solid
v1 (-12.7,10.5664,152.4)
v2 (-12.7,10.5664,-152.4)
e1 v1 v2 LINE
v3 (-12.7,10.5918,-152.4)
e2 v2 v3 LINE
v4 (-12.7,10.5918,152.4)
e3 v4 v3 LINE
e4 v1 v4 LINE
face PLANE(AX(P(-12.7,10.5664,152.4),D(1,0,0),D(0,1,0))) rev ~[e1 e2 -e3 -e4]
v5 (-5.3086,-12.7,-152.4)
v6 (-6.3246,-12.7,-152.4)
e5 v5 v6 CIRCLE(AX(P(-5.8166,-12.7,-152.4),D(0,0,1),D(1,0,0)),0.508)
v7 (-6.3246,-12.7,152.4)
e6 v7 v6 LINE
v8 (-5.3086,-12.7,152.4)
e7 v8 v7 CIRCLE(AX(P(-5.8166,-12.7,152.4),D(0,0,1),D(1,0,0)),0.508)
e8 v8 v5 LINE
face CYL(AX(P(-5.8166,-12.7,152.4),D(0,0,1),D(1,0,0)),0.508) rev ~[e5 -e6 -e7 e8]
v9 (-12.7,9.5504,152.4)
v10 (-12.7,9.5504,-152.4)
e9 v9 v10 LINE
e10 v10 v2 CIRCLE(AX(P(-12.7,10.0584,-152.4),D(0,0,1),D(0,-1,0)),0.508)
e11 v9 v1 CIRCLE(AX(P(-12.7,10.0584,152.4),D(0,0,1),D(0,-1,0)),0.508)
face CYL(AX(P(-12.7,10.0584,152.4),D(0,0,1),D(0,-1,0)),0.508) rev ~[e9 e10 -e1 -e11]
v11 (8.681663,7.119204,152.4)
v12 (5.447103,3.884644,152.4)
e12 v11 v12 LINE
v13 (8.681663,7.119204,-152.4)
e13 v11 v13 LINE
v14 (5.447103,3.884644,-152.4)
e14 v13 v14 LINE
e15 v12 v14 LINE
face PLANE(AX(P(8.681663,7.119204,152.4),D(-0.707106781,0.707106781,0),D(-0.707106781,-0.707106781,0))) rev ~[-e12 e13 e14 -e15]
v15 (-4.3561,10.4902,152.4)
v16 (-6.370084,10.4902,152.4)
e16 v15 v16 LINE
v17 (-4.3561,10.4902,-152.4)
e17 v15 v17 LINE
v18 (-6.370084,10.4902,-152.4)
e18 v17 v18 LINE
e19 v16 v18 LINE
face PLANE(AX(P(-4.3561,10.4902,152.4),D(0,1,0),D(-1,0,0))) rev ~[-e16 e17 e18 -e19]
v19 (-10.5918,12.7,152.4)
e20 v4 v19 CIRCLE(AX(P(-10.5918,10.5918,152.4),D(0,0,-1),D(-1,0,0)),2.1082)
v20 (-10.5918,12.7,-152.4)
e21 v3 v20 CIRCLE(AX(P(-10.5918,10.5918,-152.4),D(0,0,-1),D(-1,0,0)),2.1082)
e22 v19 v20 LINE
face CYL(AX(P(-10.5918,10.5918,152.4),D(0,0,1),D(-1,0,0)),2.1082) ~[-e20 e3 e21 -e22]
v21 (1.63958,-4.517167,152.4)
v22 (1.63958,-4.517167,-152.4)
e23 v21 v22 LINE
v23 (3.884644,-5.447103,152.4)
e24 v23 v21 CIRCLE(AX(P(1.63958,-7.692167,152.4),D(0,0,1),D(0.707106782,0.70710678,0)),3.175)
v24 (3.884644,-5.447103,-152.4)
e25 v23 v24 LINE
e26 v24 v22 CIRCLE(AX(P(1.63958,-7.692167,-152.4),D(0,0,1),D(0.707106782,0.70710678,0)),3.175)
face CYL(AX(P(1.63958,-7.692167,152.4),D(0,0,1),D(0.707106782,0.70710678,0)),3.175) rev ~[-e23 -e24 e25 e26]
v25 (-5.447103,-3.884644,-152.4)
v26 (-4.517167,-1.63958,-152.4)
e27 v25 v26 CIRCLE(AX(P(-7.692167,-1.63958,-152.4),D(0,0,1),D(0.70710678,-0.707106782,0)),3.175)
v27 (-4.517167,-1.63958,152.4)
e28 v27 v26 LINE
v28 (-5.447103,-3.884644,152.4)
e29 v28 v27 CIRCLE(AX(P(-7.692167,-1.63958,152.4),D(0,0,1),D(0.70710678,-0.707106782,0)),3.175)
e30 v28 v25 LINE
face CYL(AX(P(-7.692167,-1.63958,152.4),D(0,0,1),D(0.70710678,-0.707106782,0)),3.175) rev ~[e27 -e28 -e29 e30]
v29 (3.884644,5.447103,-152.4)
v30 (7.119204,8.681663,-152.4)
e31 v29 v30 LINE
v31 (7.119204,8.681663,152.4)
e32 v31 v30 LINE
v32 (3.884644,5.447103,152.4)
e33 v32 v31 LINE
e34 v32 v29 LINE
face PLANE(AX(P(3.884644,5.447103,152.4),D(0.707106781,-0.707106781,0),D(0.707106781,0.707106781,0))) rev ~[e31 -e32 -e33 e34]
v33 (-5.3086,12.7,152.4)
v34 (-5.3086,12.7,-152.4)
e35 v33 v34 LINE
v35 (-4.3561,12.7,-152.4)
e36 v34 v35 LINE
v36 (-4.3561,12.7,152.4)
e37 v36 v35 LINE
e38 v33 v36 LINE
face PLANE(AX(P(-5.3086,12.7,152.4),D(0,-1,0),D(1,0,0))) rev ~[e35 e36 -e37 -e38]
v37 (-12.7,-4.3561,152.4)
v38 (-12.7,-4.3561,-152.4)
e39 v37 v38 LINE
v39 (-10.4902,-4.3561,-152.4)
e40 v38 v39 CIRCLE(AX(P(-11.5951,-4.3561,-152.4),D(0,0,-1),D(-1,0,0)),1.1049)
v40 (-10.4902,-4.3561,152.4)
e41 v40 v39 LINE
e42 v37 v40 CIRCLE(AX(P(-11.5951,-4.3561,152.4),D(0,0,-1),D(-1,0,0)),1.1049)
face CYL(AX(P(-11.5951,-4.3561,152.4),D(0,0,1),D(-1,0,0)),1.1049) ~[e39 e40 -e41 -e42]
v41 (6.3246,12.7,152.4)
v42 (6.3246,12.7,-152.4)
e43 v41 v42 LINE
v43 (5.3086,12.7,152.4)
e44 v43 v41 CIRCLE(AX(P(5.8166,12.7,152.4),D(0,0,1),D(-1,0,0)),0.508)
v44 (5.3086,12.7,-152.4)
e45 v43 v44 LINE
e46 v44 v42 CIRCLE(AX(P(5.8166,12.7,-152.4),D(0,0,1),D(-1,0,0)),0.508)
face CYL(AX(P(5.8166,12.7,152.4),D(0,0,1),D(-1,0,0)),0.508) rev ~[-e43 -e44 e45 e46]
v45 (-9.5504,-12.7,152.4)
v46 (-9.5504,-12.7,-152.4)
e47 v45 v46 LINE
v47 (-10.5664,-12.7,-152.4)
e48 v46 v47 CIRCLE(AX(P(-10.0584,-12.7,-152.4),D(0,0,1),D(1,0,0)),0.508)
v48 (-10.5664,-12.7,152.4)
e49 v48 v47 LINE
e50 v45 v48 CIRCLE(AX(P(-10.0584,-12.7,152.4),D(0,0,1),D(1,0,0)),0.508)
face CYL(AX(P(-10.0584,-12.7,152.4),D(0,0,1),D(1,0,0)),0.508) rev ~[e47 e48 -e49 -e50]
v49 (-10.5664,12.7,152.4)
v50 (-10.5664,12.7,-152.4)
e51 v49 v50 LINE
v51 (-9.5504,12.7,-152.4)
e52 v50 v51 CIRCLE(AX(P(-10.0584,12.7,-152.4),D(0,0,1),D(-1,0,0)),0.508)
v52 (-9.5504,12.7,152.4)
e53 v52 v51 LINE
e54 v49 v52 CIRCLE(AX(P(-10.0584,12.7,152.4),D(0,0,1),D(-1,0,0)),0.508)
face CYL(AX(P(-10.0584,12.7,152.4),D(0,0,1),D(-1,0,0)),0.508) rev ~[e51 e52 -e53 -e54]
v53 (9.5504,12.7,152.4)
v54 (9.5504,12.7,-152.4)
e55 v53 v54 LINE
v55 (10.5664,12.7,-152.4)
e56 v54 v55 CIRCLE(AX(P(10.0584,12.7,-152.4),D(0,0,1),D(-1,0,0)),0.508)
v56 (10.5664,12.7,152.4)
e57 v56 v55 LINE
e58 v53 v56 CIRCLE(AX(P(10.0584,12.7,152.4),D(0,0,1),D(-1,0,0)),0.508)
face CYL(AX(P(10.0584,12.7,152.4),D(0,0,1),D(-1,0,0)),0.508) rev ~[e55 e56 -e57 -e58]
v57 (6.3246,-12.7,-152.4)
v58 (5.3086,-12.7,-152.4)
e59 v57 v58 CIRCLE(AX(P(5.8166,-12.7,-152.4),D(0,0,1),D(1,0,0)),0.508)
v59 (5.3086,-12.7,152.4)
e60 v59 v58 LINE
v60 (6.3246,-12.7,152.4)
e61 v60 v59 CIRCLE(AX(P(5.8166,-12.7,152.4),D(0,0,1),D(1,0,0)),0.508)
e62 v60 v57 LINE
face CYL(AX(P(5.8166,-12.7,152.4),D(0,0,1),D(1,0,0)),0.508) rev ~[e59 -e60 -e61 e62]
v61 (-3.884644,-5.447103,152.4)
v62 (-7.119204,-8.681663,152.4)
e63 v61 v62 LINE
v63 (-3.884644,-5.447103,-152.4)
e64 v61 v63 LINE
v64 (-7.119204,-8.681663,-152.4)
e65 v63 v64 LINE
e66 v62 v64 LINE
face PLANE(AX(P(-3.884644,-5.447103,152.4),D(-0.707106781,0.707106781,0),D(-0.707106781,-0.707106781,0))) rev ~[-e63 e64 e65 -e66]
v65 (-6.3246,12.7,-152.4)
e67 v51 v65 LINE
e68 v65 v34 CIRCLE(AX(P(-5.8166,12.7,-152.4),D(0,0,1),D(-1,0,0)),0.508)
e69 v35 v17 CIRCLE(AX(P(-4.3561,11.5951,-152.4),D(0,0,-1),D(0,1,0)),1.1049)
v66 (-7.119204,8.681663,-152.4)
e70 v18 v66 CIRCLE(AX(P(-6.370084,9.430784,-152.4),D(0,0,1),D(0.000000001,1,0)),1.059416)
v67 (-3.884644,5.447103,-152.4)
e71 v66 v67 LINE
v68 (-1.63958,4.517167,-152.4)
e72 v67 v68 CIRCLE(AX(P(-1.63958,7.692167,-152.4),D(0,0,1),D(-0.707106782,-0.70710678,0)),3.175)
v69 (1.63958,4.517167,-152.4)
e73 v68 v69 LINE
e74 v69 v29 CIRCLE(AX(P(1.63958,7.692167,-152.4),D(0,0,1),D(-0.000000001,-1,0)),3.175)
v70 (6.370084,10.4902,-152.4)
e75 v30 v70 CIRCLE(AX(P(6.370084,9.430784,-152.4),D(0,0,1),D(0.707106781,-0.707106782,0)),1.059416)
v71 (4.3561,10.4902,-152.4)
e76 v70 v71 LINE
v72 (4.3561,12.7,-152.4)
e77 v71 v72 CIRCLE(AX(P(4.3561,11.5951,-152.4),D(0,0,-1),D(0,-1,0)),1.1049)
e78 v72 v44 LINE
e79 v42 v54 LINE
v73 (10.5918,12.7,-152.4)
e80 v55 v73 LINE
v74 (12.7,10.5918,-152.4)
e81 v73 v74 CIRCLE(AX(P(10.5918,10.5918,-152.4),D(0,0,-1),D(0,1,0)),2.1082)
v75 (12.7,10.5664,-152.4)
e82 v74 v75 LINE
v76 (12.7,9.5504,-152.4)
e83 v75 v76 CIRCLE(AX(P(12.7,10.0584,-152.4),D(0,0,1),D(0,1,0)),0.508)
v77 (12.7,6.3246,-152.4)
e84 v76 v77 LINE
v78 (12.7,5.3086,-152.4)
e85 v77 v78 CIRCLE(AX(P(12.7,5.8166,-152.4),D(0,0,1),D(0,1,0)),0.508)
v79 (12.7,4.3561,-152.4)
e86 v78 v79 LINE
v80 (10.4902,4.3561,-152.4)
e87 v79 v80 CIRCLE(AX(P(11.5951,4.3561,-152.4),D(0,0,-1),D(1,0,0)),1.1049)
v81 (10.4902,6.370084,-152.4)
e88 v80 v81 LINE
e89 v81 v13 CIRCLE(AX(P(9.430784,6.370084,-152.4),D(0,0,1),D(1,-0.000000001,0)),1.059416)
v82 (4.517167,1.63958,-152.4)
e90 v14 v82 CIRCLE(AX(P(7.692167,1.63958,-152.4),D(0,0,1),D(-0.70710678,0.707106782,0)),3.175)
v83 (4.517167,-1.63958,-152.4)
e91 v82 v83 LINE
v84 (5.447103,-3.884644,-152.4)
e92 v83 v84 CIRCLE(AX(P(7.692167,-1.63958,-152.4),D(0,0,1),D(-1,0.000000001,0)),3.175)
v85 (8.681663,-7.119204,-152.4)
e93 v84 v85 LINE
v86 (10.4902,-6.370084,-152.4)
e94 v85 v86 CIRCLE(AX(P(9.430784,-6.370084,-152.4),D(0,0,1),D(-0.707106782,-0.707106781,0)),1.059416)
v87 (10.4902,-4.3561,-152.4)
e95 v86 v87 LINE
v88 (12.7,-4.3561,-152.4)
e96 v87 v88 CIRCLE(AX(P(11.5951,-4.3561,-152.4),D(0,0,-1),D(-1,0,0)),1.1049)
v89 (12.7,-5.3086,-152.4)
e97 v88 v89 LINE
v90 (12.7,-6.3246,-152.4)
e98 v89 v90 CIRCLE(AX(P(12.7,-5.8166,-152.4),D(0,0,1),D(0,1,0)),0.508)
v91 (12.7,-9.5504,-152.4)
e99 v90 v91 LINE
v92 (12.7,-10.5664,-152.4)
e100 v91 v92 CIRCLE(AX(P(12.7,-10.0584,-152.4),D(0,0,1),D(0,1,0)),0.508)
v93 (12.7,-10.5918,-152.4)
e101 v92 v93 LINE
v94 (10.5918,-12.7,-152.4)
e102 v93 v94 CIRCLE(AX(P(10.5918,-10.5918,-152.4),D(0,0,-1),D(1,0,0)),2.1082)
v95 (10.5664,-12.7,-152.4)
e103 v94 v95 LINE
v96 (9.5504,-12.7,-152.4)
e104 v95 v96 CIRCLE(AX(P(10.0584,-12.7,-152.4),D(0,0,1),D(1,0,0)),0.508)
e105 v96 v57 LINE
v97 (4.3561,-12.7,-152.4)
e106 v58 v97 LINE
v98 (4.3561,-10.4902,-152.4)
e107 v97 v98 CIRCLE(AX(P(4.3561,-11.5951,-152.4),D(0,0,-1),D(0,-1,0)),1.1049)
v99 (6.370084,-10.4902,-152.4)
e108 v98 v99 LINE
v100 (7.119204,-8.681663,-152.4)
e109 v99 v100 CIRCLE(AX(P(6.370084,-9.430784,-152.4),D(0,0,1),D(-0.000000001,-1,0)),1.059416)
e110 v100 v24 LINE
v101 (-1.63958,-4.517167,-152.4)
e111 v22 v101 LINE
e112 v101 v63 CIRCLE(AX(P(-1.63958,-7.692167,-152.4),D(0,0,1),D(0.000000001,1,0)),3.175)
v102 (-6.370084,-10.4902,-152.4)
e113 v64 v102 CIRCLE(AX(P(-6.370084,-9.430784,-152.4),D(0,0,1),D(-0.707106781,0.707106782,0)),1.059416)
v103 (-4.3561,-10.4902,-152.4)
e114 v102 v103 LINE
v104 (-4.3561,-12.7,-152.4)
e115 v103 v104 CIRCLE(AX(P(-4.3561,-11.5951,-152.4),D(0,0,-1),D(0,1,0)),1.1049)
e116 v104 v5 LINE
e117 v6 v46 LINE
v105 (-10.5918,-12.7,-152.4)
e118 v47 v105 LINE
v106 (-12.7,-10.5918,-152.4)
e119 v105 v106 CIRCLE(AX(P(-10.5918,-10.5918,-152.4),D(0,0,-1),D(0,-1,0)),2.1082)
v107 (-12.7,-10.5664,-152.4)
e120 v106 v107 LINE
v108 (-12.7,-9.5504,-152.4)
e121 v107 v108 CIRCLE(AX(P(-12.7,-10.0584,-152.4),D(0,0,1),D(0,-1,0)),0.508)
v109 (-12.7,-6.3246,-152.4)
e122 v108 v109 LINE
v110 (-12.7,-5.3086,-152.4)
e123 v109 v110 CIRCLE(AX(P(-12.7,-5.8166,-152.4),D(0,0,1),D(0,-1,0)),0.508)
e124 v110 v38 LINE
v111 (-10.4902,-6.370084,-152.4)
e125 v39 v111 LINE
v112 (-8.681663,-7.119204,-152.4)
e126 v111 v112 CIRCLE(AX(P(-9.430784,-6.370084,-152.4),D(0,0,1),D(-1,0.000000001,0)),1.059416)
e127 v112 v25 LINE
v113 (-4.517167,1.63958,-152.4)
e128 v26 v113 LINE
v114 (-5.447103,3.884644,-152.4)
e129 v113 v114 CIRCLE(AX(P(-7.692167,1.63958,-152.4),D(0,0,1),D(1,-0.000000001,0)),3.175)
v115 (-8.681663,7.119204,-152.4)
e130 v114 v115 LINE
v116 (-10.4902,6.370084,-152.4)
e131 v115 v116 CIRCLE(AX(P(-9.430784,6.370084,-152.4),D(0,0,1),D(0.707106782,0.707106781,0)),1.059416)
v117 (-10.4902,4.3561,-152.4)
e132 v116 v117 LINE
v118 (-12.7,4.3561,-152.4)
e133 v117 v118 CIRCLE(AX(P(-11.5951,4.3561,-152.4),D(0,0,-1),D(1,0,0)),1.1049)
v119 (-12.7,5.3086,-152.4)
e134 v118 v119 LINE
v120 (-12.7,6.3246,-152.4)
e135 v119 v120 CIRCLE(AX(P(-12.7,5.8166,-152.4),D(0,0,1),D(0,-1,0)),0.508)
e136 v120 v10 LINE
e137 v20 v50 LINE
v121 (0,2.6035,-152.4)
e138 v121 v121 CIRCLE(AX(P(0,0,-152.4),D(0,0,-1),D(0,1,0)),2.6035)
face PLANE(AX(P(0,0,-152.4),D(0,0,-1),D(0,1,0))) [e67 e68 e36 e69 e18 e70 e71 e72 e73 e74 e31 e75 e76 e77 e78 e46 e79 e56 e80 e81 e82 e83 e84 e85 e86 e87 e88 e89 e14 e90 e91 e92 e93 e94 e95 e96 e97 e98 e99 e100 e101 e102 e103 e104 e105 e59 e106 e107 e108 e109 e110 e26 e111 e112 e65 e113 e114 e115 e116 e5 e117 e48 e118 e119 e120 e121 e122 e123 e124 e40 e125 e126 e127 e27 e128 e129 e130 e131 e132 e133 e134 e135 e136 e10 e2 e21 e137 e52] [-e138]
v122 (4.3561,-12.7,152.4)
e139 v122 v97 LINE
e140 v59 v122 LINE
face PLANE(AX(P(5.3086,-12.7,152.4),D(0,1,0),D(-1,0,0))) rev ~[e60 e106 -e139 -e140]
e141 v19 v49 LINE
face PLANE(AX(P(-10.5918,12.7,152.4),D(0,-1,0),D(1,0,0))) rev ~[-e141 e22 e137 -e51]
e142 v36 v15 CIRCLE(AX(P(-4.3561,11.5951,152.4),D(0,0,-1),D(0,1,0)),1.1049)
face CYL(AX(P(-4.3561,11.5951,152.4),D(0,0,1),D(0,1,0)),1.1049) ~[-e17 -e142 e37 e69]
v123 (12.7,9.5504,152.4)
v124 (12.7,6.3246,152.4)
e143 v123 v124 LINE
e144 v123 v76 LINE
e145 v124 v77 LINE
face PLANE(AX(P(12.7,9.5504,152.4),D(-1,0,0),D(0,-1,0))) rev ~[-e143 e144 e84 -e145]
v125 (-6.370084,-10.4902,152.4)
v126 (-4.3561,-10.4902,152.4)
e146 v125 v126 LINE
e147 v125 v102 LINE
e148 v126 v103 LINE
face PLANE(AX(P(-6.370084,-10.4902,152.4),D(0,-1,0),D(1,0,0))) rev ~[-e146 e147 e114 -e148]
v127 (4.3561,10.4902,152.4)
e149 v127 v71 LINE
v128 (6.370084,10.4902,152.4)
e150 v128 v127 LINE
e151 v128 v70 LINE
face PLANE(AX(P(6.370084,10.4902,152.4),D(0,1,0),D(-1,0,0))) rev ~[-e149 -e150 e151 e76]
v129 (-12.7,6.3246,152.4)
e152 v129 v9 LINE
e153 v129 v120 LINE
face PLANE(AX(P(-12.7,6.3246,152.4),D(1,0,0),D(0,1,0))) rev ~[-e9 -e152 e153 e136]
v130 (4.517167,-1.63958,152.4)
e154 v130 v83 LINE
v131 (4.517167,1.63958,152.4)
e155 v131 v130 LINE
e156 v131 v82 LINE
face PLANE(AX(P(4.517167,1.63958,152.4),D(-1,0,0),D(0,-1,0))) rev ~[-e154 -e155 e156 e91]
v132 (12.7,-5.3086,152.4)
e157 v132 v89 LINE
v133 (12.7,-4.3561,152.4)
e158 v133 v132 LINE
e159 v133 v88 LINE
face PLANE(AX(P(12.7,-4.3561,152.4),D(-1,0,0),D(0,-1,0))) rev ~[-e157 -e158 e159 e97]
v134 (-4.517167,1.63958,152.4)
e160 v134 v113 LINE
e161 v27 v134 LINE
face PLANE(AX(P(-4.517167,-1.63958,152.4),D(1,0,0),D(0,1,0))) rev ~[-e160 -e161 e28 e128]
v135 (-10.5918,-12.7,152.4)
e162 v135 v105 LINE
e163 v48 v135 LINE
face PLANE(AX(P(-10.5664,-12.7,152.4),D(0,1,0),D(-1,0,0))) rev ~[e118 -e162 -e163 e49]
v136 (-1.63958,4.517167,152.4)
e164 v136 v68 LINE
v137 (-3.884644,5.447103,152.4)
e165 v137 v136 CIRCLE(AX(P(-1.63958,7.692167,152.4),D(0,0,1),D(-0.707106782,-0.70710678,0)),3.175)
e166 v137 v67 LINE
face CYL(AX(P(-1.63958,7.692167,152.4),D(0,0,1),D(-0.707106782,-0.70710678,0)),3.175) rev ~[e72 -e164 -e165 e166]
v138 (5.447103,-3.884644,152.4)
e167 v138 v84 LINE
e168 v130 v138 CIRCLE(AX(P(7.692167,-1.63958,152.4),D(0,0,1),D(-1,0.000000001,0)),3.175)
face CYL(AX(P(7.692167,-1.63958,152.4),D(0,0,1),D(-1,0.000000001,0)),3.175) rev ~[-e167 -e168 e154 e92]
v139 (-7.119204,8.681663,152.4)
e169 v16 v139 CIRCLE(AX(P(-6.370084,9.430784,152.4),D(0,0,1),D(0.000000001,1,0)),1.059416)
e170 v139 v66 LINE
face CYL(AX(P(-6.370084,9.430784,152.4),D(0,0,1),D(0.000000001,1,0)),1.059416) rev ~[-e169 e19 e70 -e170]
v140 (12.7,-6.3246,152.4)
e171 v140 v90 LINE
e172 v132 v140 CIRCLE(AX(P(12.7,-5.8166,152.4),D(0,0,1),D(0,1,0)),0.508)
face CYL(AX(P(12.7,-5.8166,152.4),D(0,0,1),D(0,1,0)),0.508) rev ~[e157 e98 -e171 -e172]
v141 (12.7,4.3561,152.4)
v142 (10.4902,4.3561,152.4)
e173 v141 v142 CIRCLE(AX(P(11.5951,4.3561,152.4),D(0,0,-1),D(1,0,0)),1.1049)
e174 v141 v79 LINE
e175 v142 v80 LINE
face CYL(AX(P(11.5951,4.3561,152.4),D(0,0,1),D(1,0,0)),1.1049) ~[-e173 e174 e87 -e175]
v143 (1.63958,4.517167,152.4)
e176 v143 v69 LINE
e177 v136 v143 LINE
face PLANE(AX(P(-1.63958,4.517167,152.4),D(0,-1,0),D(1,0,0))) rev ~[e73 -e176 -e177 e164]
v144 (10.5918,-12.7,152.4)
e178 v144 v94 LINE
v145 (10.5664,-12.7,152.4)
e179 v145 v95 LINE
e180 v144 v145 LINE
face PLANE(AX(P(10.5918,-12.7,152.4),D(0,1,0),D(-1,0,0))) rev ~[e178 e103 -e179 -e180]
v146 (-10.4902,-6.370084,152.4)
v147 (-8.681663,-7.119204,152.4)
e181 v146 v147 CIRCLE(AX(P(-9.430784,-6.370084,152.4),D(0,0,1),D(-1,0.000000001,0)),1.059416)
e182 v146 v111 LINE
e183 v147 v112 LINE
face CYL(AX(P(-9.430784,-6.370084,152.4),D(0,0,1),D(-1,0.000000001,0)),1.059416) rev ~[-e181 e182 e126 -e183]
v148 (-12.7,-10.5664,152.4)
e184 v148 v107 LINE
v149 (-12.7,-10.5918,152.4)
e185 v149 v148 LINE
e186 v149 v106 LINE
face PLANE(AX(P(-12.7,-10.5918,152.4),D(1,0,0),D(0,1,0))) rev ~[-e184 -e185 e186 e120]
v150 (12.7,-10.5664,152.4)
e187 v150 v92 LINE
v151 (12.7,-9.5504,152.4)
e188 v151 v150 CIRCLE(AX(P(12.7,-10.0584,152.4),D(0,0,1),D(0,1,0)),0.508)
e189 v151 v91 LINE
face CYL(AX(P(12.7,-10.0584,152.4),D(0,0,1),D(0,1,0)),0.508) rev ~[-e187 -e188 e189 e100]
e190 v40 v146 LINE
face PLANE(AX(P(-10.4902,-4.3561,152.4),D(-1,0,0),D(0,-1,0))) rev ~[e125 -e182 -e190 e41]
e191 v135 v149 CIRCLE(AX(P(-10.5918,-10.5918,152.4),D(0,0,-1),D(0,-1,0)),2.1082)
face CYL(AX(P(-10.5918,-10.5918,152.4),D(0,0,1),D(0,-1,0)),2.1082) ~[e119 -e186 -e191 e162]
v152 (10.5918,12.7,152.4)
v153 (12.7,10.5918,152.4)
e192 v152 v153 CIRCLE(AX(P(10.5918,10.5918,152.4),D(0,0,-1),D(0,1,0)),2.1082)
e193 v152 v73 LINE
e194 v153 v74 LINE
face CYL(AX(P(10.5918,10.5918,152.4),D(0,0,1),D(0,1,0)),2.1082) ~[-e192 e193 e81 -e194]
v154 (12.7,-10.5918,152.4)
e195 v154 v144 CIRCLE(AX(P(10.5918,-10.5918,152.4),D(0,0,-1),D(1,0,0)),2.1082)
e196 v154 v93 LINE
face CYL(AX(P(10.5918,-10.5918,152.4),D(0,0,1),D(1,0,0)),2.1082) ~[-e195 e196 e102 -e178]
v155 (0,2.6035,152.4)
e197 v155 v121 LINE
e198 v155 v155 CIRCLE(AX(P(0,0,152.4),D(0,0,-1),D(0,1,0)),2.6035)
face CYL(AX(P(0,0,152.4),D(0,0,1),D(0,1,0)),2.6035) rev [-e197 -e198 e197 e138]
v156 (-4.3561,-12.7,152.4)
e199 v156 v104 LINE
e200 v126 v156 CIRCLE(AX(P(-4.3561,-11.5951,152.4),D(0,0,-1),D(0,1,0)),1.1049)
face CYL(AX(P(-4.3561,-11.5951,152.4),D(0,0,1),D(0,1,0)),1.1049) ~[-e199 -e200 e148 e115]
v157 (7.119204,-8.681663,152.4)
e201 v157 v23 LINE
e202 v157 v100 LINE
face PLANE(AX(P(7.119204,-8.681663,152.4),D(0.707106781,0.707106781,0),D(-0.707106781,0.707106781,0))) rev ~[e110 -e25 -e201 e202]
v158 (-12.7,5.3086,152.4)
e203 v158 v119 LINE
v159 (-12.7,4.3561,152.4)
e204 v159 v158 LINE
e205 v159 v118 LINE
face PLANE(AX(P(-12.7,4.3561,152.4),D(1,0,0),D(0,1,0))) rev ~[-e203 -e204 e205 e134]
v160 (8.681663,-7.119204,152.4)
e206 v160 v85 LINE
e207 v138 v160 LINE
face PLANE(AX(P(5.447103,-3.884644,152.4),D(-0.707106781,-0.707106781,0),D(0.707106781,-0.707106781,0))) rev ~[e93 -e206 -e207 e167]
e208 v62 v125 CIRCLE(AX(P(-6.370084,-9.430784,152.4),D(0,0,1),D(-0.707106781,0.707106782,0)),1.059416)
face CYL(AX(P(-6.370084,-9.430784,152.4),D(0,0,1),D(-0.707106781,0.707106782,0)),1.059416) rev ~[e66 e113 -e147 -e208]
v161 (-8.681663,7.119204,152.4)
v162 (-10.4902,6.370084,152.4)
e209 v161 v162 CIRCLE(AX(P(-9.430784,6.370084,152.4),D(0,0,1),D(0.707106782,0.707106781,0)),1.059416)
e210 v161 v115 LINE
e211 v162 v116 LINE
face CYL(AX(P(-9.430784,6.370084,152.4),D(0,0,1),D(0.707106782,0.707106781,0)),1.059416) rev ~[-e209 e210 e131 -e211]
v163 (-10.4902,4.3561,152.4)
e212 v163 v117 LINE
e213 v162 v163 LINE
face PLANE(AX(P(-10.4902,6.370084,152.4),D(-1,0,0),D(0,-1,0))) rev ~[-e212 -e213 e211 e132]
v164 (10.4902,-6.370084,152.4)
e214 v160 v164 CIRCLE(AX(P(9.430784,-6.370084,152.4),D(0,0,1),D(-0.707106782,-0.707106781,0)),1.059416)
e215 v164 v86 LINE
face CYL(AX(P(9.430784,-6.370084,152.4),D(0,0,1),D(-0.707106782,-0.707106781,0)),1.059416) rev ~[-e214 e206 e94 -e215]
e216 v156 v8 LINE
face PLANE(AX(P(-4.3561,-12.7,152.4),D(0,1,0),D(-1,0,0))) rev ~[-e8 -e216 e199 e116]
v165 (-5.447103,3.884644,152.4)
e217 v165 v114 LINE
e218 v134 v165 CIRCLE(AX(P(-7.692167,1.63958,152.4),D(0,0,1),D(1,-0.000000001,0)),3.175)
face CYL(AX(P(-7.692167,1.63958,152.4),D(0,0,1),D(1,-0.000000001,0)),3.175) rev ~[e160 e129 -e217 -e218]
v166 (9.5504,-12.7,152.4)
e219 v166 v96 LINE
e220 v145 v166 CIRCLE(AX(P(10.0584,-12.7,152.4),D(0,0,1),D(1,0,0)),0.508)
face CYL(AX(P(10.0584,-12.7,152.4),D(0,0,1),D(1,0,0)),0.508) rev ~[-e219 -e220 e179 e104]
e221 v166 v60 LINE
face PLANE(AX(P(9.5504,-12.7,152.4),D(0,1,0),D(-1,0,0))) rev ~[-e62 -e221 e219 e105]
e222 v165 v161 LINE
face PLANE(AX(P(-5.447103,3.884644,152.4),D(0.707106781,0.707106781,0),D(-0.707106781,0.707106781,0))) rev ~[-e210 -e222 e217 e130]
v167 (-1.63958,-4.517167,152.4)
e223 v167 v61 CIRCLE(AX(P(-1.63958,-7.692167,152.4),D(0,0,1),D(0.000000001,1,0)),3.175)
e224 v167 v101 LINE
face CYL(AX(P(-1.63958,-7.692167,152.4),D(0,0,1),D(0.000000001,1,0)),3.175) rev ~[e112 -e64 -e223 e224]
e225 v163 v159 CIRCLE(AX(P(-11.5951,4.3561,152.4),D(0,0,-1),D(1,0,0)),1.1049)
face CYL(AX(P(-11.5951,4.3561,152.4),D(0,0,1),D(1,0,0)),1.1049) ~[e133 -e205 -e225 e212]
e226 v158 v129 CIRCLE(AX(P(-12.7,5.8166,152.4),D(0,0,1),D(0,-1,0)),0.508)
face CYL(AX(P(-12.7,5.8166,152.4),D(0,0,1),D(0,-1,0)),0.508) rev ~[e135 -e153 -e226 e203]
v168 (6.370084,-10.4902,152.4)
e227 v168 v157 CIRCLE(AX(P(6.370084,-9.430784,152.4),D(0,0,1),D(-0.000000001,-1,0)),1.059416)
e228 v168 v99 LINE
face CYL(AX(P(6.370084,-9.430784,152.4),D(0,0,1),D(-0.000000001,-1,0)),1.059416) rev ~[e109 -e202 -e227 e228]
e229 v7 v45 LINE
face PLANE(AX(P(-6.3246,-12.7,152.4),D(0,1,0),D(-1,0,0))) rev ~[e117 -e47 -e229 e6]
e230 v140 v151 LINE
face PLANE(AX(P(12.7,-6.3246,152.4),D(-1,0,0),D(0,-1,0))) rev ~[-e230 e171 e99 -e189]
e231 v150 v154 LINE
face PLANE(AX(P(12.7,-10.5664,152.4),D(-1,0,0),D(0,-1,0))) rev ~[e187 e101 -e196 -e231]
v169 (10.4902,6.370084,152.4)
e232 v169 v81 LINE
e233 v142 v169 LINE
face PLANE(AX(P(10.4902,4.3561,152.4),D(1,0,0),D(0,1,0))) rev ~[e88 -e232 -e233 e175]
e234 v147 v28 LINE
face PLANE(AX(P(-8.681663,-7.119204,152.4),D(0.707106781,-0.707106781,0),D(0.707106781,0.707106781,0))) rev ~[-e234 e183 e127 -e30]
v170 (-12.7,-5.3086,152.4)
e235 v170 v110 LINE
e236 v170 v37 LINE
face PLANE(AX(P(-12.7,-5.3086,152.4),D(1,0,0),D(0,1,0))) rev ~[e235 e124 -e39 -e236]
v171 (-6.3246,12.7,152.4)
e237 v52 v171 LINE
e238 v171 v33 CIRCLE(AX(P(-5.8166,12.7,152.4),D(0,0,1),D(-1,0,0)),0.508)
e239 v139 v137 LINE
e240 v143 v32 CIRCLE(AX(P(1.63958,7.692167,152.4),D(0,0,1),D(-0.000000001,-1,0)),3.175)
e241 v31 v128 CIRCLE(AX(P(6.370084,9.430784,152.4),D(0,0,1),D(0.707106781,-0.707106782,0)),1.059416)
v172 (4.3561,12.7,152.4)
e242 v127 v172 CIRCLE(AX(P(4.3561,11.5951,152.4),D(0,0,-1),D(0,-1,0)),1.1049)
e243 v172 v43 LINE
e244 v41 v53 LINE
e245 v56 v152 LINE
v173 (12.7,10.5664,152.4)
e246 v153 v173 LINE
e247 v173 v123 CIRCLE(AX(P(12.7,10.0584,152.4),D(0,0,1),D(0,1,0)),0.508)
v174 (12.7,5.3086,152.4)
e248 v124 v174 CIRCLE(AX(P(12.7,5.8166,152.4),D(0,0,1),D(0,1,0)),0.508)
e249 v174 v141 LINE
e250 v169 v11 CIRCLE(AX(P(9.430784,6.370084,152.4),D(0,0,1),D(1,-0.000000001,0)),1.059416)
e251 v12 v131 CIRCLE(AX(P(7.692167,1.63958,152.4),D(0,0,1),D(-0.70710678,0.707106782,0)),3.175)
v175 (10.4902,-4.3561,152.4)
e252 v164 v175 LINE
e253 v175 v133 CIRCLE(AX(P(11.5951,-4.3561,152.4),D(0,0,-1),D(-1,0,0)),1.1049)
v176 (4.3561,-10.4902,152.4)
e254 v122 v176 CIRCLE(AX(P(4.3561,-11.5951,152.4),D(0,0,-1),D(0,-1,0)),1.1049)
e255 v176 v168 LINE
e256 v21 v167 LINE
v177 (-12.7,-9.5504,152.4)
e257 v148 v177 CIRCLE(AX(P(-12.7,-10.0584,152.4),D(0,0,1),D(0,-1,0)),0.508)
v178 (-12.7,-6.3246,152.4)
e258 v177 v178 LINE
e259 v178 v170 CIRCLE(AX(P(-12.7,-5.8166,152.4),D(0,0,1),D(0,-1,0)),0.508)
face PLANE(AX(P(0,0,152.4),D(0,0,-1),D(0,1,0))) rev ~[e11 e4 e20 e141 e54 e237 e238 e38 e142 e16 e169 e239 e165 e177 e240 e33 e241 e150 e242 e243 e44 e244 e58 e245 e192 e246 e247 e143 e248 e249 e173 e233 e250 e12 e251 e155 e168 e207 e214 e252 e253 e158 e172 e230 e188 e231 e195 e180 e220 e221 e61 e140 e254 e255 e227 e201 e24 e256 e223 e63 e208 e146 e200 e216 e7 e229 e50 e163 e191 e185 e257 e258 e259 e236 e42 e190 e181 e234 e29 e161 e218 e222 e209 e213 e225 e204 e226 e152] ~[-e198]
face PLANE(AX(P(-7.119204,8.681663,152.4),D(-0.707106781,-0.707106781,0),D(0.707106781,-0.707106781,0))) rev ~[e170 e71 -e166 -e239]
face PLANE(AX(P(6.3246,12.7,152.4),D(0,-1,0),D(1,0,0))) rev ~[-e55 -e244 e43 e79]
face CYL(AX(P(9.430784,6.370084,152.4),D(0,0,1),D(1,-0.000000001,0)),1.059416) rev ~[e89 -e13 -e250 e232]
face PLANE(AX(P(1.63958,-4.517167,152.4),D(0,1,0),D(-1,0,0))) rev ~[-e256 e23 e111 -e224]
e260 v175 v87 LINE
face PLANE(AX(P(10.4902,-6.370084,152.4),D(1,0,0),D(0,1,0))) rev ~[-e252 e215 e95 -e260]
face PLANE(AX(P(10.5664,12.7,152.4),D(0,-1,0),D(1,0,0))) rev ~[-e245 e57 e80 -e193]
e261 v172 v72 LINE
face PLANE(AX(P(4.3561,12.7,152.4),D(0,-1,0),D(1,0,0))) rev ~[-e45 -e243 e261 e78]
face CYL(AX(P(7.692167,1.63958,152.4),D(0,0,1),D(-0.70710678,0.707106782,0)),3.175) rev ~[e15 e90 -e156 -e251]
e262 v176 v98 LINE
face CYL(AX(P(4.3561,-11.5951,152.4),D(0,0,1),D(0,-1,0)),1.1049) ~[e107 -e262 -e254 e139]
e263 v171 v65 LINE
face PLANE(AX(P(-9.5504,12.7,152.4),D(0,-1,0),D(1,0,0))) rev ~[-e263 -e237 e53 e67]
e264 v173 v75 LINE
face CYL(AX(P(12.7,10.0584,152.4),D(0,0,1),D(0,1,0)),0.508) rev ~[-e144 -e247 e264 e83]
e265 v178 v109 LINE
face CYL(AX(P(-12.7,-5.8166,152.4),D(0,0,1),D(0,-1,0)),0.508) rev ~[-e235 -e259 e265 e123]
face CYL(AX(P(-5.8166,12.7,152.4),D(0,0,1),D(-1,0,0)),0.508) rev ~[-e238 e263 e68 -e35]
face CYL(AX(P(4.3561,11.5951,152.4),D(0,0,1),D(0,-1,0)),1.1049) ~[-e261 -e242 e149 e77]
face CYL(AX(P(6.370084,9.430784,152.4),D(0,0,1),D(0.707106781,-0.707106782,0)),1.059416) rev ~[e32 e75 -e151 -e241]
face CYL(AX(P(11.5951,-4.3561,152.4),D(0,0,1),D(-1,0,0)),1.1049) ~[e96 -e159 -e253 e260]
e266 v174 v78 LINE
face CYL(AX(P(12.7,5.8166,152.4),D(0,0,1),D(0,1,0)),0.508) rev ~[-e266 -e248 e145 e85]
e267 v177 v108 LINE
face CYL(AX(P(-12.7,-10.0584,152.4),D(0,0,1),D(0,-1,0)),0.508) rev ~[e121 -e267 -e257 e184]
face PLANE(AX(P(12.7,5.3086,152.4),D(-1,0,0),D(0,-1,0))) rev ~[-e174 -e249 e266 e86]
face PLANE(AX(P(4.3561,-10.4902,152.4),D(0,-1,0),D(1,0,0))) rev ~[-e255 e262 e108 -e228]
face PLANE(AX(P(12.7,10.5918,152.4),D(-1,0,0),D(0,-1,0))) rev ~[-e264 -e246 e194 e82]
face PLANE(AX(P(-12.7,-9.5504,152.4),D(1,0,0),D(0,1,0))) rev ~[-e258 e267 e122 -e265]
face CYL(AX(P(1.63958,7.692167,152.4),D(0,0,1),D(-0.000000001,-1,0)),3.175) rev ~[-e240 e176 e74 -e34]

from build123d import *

# Parameters (mm, degrees)
SKETCH11_R              = 2.6035
FRACTIONAL_1010_1_DEPTH = 304.8


with BuildPart() as part:
    # Sketch11 → Fractional 1010(1) (new body)
    with BuildSketch(Plane.YX.offset(-152.4)):
        with BuildLine():
            Line((10.5918, 12.7), (10.5664, 12.7))
            ThreePointArc((10.5664, 12.7), (10.0584, 12.192), (9.5504, 12.7))
            Line((9.5504, 12.7), (6.3246, 12.7))
            ThreePointArc((6.3246, 12.7), (5.8166, 12.192), (5.3086, 12.7))
            Line((5.3086, 12.7), (4.3561, 12.7))
            ThreePointArc((4.3561, 12.7), (3.2512, 11.5951), (4.3561, 10.4902))
            Line((4.3561, 10.4902), (6.370083786, 10.4902))
            ThreePointArc((6.370083786, 10.4902), (7.348856743, 9.836204819), (7.119204175, 8.681663397))
            Line((7.119204175, 8.681663397), (3.88464389, 5.447103113))
            ThreePointArc((3.88464389, 5.447103113), (2.854599758, 4.758849627), (1.63957986, 4.517167143))
            Line((1.63957986, 4.517167143), (-1.63957986, 4.517167143))
            ThreePointArc((-1.63957986, 4.517167143), (-2.854599758, 4.758849627), (-3.88464389, 5.447103113))
            Line((-3.88464389, 5.447103113), (-7.119204175, 8.681663397))
            ThreePointArc((-7.119204175, 8.681663397), (-7.348856743, 9.836204819), (-6.370083786, 10.4902))
            Line((-6.370083786, 10.4902), (-4.3561, 10.4902))
            ThreePointArc((-4.3561, 10.4902), (-3.2512, 11.5951), (-4.3561, 12.7))
            Line((-4.3561, 12.7), (-5.3086, 12.7))
            ThreePointArc((-5.3086, 12.7), (-5.8166, 12.192), (-6.3246, 12.7))
            Line((-6.3246, 12.7), (-9.5504, 12.7))
            ThreePointArc((-9.5504, 12.7), (-10.0584, 12.192), (-10.5664, 12.7))
            Line((-10.5664, 12.7), (-10.5918, 12.7))
            ThreePointArc((-10.5918, 12.7), (-12.082522516, 12.082522516), (-12.7, 10.5918))
            Line((-12.7, 10.5918), (-12.7, 10.5664))
            ThreePointArc((-12.7, 10.5664), (-12.192, 10.0584), (-12.7, 9.5504))
            Line((-12.7, 9.5504), (-12.7, 6.3246))
            ThreePointArc((-12.7, 6.3246), (-12.192, 5.8166), (-12.7, 5.3086))
            Line((-12.7, 5.3086), (-12.7, 4.3561))
            ThreePointArc((-12.7, 4.3561), (-11.5951, 3.2512), (-10.4902, 4.3561))
            Line((-10.4902, 4.3561), (-10.4902, 6.370083786))
            ThreePointArc((-10.4902, 6.370083786), (-9.836204819, 7.348856743), (-8.681663397, 7.119204175))
            Line((-8.681663397, 7.119204175), (-5.447103113, 3.88464389))
            ThreePointArc((-5.447103113, 3.88464389), (-4.758849627, 2.854599758), (-4.517167143, 1.63957986))
            Line((-4.517167143, 1.63957986), (-4.517167143, -1.63957986))
            ThreePointArc((-4.517167143, -1.63957986), (-4.758849627, -2.854599758), (-5.447103113, -3.88464389))
            Line((-5.447103113, -3.88464389), (-8.681663397, -7.119204175))
            ThreePointArc((-8.681663397, -7.119204175), (-9.836204819, -7.348856743), (-10.4902, -6.370083786))
            Line((-10.4902, -6.370083786), (-10.4902, -4.3561))
            ThreePointArc((-10.4902, -4.3561), (-11.5951, -3.2512), (-12.7, -4.3561))
            Line((-12.7, -4.3561), (-12.7, -5.3086))
            ThreePointArc((-12.7, -5.3086), (-12.192, -5.8166), (-12.7, -6.3246))
            Line((-12.7, -6.3246), (-12.7, -9.5504))
            ThreePointArc((-12.7, -9.5504), (-12.192, -10.0584), (-12.7, -10.5664))
            Line((-12.7, -10.5664), (-12.7, -10.5918))
            ThreePointArc((-12.7, -10.5918), (-12.082522516, -12.082522516), (-10.5918, -12.7))
            Line((-10.5918, -12.7), (-10.5664, -12.7))
            ThreePointArc((-10.5664, -12.7), (-10.0584, -12.192), (-9.5504, -12.7))
            Line((-9.5504, -12.7), (-6.3246, -12.7))
            ThreePointArc((-6.3246, -12.7), (-5.8166, -12.192), (-5.3086, -12.7))
            Line((-5.3086, -12.7), (-4.3561, -12.7))
            ThreePointArc((-4.3561, -12.7), (-3.2512, -11.5951), (-4.3561, -10.4902))
            Line((-4.3561, -10.4902), (-6.370083786, -10.4902))
            ThreePointArc((-6.370083786, -10.4902), (-7.348856743, -9.836204819), (-7.119204175, -8.681663397))
            Line((-7.119204175, -8.681663397), (-3.88464389, -5.447103113))
            ThreePointArc((-3.88464389, -5.447103113), (-2.854599758, -4.758849627), (-1.63957986, -4.517167143))
            Line((-1.63957986, -4.517167143), (1.63957986, -4.517167143))
            ThreePointArc((1.63957986, -4.517167143), (2.854599758, -4.758849627), (3.88464389, -5.447103113))
            Line((3.88464389, -5.447103113), (7.119204175, -8.681663397))
            ThreePointArc((7.119204175, -8.681663397), (7.348856743, -9.836204819), (6.370083786, -10.4902))
            Line((6.370083786, -10.4902), (4.3561, -10.4902))
            ThreePointArc((4.3561, -10.4902), (3.2512, -11.5951), (4.3561, -12.7))
            Line((4.3561, -12.7), (5.3086, -12.7))
            ThreePointArc((5.3086, -12.7), (5.8166, -12.192), (6.3246, -12.7))
            Line((6.3246, -12.7), (9.5504, -12.7))
            ThreePointArc((9.5504, -12.7), (10.0584, -12.192), (10.5664, -12.7))
            Line((10.5664, -12.7), (10.5918, -12.7))
            ThreePointArc((10.5918, -12.7), (12.082522516, -12.082522516), (12.7, -10.5918))
            Line((12.7, -10.5918), (12.7, -10.5664))
            ThreePointArc((12.7, -10.5664), (12.192, -10.0584), (12.7, -9.5504))
            Line((12.7, -9.5504), (12.7, -6.3246))
            ThreePointArc((12.7, -6.3246), (12.192, -5.8166), (12.7, -5.3086))
            Line((12.7, -5.3086), (12.7, -4.3561))
            ThreePointArc((12.7, -4.3561), (11.5951, -3.2512), (10.4902, -4.3561))
            Line((10.4902, -4.3561), (10.4902, -6.370083786))
            ThreePointArc((10.4902, -6.370083786), (9.836204819, -7.348856743), (8.681663397, -7.119204175))
            Line((8.681663397, -7.119204175), (5.447103113, -3.88464389))
            ThreePointArc((5.447103113, -3.88464389), (4.758849627, -2.854599758), (4.517167143, -1.63957986))
            Line((4.517167143, -1.63957986), (4.517167143, 1.63957986))
            ThreePointArc((4.517167143, 1.63957986), (4.758849627, 2.854599758), (5.447103113, 3.88464389))
            Line((5.447103113, 3.88464389), (8.681663397, 7.119204175))
            ThreePointArc((8.681663397, 7.119204175), (9.836204819, 7.348856743), (10.4902, 6.370083786))
            Line((10.4902, 6.370083786), (10.4902, 4.3561))
            ThreePointArc((10.4902, 4.3561), (11.5951, 3.2512), (12.7, 4.3561))
            Line((12.7, 4.3561), (12.7, 5.3086))
            ThreePointArc((12.7, 5.3086), (12.192, 5.8166), (12.7, 6.3246))
            Line((12.7, 6.3246), (12.7, 9.5504))
            ThreePointArc((12.7, 9.5504), (12.192, 10.0584), (12.7, 10.5664))
            Line((12.7, 10.5664), (12.7, 10.5918))
            ThreePointArc((12.7, 10.5918), (12.082522516, 12.082522516), (10.5918, 12.7))
        make_face()
        Circle(SKETCH11_R, mode=Mode.SUBTRACT)
    extrude(amount=FRACTIONAL_1010_1_DEPTH)


solid = part.part
